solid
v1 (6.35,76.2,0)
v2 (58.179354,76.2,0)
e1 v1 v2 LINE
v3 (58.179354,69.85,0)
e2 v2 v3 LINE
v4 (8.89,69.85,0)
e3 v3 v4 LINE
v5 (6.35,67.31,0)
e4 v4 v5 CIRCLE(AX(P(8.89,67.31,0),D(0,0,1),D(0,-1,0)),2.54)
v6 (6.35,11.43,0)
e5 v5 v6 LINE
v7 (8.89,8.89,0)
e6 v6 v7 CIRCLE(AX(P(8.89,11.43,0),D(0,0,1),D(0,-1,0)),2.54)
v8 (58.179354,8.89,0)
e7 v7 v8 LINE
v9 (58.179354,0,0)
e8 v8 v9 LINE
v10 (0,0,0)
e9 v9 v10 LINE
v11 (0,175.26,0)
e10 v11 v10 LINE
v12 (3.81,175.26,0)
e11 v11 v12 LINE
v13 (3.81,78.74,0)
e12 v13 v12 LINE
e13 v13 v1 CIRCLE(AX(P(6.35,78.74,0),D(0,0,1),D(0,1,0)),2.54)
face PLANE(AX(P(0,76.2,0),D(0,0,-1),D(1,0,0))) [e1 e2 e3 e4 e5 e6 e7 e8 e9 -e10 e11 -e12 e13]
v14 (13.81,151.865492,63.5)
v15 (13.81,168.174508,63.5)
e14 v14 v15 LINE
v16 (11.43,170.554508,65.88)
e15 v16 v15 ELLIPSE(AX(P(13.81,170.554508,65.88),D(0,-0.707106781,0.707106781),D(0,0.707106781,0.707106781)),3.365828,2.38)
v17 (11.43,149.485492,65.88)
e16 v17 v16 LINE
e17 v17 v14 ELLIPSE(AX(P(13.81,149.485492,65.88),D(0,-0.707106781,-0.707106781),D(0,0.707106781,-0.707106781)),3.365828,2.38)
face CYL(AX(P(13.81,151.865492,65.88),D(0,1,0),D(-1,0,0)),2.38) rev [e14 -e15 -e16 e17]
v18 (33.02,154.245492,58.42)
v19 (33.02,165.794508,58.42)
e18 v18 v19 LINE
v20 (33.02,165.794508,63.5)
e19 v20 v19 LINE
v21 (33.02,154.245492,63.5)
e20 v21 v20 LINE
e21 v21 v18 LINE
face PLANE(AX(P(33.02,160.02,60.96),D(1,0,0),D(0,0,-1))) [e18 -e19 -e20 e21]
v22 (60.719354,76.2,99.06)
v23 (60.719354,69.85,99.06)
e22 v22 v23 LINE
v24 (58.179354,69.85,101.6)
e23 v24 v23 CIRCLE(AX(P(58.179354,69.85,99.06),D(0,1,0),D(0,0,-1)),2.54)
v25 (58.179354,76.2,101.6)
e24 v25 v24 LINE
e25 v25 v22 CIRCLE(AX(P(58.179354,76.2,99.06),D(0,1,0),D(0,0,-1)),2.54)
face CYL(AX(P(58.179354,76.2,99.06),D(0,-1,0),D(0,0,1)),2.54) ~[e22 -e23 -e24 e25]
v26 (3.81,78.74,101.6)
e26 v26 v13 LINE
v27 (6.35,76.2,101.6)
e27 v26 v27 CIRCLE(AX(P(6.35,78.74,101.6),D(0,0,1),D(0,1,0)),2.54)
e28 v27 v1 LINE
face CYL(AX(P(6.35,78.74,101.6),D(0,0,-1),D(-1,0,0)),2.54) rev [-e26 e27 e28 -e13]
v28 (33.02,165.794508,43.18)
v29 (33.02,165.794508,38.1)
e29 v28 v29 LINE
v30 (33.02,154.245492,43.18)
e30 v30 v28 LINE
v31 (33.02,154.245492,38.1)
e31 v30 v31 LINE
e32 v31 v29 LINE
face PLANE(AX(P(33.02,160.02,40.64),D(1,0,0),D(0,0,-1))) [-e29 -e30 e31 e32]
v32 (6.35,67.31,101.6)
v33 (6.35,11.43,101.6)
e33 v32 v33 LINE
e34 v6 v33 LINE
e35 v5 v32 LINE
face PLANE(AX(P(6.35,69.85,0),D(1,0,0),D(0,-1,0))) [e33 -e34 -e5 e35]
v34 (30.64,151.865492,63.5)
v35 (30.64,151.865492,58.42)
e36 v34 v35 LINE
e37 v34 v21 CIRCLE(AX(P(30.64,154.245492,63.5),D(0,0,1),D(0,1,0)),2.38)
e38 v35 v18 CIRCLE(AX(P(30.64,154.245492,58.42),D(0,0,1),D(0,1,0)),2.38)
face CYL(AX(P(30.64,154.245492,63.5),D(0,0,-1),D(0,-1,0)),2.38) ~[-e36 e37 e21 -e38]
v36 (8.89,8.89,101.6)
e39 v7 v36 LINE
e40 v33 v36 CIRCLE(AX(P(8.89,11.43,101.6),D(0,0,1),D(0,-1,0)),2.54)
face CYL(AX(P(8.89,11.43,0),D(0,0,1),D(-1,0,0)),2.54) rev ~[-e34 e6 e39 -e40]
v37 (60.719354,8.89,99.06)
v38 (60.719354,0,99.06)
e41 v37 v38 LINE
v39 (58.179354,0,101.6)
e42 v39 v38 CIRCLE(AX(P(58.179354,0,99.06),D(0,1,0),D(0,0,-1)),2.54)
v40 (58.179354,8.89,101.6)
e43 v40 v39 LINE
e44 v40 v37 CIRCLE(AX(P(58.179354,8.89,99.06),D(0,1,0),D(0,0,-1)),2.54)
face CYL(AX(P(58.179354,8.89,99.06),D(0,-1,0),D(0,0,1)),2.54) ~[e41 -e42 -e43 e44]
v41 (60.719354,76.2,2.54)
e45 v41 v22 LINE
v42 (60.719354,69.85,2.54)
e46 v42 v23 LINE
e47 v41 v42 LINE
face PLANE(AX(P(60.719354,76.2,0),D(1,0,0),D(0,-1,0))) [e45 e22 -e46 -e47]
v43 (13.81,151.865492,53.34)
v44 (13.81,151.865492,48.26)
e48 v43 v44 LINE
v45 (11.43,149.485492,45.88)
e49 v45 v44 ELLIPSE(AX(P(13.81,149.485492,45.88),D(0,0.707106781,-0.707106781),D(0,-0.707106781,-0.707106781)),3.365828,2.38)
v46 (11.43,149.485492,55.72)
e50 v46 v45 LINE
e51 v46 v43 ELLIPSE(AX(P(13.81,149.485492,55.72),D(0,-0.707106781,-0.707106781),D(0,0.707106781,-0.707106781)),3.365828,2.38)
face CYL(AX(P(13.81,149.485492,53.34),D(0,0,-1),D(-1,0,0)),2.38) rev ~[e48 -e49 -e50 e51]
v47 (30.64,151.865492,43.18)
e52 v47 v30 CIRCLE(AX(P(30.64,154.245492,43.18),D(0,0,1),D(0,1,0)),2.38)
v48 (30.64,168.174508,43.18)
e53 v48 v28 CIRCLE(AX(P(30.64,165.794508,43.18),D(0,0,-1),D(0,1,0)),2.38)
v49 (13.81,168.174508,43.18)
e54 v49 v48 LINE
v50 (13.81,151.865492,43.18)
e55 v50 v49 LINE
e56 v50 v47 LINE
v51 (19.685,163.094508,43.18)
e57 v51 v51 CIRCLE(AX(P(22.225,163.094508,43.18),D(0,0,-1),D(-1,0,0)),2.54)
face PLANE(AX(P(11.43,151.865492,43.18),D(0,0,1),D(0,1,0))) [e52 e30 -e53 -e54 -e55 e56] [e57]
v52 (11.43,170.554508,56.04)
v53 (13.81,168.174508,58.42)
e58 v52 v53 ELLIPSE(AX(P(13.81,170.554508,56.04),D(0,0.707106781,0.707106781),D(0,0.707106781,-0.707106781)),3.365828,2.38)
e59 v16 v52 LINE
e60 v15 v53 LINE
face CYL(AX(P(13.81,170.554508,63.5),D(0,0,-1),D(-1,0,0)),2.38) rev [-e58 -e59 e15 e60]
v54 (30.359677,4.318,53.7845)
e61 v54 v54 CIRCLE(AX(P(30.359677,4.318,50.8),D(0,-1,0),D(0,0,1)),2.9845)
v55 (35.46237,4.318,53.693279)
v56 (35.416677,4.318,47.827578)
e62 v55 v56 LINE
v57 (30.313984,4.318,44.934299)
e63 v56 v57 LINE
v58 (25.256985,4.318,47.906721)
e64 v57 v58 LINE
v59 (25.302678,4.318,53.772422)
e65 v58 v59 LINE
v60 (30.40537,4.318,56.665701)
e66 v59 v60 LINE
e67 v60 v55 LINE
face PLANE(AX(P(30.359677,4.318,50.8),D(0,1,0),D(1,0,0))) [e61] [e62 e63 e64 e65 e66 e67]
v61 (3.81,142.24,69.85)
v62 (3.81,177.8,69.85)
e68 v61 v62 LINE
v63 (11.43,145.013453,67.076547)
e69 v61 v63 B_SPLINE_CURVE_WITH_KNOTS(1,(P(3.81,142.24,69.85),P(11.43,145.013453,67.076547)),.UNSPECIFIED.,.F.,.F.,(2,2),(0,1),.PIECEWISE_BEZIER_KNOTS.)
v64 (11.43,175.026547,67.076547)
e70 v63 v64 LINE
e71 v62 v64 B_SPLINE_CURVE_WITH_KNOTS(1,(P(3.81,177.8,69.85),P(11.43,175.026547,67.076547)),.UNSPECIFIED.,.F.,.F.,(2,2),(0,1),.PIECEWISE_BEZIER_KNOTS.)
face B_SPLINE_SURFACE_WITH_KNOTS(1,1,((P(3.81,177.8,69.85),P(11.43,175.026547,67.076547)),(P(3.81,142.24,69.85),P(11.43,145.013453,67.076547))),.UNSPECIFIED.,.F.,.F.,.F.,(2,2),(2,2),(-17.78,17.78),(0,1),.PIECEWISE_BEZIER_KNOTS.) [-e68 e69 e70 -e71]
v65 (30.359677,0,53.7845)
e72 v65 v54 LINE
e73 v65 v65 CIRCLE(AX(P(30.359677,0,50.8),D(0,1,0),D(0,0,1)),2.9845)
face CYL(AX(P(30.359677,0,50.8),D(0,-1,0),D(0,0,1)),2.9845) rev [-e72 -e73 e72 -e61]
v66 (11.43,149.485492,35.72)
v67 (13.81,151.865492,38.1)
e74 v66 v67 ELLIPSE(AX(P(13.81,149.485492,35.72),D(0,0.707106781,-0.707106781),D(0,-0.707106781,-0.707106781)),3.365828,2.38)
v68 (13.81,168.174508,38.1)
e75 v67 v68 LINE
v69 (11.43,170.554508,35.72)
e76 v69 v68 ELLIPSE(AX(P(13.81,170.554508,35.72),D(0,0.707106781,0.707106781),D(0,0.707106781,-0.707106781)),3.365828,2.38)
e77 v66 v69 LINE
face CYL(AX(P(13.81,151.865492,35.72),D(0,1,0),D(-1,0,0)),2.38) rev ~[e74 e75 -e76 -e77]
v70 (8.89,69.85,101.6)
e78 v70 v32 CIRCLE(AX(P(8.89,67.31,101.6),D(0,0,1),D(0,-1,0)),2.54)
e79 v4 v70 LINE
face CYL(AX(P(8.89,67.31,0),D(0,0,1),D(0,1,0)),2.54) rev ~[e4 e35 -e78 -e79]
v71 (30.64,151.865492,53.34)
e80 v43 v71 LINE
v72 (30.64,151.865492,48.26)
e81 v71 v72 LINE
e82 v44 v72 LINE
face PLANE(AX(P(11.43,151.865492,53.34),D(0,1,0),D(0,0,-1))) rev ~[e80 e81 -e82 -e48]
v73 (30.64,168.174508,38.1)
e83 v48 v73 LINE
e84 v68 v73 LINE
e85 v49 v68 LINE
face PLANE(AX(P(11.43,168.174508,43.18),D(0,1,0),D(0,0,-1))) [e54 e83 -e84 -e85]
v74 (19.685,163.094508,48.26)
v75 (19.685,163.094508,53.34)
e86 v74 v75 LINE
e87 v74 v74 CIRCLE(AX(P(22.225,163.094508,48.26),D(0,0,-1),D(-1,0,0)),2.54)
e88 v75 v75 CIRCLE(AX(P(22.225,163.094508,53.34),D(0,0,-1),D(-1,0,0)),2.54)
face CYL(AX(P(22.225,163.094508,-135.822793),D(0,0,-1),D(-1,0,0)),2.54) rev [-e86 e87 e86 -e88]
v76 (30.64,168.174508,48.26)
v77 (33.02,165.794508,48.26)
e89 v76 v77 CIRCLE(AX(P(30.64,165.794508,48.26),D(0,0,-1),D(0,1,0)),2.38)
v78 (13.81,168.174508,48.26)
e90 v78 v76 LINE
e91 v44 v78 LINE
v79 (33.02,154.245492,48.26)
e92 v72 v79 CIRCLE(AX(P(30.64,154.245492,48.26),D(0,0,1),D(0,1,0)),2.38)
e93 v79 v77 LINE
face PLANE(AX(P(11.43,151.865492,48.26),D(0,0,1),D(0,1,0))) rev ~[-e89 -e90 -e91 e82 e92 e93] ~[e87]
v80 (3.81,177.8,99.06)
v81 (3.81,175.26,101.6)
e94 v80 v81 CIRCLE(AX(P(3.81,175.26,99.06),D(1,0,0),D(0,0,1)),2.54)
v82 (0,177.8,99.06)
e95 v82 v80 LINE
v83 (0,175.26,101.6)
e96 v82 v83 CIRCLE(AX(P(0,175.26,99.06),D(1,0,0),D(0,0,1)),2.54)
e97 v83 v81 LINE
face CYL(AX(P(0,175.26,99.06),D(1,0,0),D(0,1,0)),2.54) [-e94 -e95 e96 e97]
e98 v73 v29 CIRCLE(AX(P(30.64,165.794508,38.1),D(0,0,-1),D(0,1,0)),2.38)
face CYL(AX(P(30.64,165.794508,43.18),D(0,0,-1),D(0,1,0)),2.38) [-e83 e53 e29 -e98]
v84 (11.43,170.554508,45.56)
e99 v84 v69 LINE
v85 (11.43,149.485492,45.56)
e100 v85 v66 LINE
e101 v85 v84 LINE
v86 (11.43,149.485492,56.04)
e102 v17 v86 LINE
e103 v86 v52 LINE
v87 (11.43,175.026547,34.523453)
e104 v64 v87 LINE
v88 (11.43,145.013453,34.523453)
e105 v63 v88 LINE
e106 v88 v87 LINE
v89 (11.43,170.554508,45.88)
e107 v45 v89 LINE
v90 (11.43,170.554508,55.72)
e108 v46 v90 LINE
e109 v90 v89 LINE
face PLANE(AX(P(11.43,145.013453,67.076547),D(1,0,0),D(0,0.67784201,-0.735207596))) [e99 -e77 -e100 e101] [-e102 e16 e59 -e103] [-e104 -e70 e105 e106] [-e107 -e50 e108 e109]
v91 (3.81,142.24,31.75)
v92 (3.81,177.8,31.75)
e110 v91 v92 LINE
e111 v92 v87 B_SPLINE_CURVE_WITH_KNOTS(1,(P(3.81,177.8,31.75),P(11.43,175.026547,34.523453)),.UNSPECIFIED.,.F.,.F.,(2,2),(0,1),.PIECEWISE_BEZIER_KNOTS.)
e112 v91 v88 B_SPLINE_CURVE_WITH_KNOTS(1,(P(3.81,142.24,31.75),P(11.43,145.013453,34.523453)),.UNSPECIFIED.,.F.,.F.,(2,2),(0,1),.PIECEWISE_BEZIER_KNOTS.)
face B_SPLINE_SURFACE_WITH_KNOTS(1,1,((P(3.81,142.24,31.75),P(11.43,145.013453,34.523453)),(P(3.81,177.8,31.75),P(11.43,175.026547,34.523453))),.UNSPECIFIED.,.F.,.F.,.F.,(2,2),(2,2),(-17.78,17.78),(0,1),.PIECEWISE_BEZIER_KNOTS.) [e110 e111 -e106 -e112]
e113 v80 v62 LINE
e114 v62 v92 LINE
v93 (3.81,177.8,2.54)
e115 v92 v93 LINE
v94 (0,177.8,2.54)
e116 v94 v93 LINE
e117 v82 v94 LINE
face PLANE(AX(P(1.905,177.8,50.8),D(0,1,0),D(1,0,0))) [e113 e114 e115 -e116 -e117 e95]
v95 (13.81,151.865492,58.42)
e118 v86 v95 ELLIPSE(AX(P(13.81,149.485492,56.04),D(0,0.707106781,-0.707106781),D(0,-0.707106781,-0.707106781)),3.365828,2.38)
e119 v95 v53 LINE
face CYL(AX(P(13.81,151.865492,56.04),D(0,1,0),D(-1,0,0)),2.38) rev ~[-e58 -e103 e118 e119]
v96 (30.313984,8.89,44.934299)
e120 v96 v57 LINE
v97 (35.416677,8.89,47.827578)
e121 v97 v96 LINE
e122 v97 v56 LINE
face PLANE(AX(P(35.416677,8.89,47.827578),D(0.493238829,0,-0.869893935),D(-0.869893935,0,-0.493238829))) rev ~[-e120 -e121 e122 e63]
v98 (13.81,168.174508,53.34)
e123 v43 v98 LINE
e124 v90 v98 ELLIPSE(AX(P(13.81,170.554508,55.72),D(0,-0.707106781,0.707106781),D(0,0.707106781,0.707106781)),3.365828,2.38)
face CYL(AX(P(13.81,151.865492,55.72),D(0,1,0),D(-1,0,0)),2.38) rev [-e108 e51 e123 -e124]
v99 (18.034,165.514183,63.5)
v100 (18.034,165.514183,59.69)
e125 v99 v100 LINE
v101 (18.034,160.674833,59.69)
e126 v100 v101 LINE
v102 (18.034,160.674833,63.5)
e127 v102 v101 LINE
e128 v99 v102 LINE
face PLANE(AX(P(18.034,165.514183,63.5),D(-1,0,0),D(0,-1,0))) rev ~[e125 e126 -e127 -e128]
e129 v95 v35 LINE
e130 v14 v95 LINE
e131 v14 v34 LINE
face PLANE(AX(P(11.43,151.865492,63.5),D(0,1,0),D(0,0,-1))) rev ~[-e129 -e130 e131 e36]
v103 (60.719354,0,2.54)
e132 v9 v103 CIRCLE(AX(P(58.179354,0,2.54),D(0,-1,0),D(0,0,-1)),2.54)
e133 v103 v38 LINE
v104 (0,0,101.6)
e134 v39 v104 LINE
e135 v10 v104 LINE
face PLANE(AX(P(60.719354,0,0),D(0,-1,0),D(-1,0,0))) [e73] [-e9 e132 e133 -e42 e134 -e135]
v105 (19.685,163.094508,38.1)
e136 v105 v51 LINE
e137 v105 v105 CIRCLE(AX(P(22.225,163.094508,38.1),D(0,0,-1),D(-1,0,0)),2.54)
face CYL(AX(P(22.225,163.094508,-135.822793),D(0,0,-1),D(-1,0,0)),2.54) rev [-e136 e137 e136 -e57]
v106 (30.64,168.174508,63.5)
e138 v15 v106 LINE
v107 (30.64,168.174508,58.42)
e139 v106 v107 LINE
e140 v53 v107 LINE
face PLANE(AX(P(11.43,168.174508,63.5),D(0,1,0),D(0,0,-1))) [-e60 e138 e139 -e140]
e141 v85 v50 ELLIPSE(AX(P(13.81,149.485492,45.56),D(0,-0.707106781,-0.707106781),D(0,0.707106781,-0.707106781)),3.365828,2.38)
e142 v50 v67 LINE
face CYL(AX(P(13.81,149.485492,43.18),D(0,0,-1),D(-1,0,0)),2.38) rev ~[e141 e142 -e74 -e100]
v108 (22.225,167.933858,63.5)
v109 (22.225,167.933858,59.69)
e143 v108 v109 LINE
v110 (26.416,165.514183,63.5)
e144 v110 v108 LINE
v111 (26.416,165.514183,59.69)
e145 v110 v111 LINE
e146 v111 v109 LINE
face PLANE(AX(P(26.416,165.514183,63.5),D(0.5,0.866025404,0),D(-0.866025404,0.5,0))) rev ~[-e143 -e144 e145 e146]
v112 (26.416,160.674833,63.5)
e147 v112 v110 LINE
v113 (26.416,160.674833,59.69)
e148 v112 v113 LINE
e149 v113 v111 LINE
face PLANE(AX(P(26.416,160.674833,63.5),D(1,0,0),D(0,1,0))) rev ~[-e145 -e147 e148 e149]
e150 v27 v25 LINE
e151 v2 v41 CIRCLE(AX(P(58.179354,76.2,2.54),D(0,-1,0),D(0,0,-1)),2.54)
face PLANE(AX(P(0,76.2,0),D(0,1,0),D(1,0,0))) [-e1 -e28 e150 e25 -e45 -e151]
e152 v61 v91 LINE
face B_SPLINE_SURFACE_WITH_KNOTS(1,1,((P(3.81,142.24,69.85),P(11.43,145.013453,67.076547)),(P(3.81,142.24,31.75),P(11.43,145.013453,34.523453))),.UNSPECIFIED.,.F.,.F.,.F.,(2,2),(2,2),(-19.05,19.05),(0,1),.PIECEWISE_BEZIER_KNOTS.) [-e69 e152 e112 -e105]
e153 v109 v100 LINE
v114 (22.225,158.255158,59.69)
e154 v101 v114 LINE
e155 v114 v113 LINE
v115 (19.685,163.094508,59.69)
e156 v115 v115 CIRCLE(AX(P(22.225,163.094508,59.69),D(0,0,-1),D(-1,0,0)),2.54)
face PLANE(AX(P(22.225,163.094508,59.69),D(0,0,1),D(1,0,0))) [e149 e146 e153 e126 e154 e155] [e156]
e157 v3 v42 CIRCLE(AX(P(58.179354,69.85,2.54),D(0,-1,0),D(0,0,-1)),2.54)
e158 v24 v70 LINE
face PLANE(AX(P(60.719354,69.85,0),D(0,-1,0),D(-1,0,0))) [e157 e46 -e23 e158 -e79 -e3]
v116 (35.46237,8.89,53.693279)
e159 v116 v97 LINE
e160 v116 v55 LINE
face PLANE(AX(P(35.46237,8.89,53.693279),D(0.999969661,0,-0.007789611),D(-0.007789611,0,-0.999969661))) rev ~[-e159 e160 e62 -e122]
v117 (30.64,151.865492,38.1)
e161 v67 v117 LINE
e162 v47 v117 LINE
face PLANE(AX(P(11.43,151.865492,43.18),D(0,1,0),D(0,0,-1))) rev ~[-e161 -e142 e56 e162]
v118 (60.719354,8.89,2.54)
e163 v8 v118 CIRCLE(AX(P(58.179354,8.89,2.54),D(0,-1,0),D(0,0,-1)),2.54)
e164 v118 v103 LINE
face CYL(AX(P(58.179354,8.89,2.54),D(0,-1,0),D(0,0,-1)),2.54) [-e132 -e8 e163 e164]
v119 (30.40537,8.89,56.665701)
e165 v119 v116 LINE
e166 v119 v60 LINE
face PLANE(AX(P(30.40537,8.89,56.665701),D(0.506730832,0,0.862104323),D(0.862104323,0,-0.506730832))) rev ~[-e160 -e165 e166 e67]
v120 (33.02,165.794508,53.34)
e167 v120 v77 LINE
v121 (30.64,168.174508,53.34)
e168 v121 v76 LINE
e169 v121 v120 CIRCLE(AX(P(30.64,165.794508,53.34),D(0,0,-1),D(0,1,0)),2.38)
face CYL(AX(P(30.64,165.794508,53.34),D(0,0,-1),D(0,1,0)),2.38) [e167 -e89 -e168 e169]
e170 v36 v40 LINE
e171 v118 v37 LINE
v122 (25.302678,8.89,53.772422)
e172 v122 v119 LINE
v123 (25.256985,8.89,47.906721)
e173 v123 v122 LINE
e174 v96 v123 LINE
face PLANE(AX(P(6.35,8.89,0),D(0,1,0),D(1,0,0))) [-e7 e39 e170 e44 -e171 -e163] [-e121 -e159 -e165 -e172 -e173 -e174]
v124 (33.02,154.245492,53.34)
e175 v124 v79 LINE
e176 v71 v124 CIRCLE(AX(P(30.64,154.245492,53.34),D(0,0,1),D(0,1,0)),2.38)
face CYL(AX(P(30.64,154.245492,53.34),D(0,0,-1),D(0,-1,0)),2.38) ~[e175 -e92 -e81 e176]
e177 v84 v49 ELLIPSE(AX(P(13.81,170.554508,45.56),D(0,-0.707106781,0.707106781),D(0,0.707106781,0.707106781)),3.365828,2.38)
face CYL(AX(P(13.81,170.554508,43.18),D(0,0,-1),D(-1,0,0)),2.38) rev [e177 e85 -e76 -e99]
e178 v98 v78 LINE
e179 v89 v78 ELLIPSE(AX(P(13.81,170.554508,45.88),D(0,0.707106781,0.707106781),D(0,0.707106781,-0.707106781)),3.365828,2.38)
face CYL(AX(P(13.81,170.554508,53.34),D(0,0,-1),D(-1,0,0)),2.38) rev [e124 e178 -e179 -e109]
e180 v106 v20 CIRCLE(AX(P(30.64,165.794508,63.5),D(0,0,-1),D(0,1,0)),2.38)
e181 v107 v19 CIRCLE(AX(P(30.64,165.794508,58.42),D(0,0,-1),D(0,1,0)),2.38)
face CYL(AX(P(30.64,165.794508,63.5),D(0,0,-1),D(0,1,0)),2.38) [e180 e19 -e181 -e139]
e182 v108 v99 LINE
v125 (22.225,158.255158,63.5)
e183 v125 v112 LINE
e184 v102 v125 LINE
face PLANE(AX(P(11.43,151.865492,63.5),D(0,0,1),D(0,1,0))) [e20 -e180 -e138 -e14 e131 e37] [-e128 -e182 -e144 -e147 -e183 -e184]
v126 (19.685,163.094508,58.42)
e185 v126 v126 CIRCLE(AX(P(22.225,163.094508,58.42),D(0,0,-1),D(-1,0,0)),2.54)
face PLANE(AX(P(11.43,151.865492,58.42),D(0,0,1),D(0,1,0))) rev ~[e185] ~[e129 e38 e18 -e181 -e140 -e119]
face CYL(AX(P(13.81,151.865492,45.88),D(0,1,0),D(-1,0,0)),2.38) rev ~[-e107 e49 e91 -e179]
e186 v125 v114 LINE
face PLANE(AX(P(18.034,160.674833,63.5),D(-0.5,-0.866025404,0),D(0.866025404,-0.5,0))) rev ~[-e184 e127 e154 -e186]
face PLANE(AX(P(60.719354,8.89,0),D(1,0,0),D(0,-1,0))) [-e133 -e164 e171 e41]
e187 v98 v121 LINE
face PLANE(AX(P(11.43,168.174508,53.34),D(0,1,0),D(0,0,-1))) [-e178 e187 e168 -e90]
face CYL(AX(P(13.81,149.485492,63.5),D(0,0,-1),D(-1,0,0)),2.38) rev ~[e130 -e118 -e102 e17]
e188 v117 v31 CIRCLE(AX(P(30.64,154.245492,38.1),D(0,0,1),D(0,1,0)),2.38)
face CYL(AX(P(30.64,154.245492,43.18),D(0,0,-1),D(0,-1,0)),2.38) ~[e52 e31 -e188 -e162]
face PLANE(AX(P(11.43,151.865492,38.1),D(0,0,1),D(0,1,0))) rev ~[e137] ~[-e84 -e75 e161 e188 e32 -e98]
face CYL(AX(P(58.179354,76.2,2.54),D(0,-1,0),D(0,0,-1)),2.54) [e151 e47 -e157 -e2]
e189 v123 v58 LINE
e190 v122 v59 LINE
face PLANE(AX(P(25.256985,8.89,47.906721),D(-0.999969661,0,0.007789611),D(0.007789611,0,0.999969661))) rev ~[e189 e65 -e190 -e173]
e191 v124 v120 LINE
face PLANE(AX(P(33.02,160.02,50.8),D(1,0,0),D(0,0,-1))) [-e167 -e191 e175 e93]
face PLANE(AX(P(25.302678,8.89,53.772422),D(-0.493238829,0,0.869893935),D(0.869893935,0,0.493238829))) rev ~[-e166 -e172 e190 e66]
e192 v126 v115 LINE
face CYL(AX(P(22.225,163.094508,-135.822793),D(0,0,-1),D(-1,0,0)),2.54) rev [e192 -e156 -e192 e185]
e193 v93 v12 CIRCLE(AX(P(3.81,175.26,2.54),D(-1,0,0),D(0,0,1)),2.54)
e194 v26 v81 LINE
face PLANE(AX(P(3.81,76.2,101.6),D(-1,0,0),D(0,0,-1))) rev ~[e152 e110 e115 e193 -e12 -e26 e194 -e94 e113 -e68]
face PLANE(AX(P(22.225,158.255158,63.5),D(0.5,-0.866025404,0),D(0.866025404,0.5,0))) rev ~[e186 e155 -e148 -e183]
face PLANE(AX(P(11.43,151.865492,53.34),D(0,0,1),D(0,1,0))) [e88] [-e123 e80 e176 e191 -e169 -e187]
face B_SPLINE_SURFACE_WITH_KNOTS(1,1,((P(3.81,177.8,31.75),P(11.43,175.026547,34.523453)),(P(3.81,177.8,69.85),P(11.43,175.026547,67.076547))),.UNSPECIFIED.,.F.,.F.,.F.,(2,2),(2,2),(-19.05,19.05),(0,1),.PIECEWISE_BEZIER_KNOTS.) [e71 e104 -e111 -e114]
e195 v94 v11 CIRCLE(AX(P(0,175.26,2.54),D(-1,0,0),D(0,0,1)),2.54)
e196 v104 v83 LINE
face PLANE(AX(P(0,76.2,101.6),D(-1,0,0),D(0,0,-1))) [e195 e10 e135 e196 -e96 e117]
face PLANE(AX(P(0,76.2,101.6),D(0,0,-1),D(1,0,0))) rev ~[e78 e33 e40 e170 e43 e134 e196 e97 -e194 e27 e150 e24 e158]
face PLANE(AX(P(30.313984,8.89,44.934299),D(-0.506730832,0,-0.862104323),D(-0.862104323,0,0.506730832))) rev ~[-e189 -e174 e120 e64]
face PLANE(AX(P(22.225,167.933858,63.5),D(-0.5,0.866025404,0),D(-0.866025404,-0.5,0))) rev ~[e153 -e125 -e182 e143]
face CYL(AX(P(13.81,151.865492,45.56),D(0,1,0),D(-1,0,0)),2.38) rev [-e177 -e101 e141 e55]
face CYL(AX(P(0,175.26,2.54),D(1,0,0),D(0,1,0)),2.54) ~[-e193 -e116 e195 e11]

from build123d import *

# Parameters (mm, degrees)
BOSS_EXTRUDE1_DEPTH            = 101.6
CUT_EXTRUDE2_REACH             = 142.769
SKETCH2_R                      = 2.9845
CUT_EXTRUDE2_DIRECTION_2_DEPTH = 141.768746531
SKETCH8_W                      = 3.81
SKETCH8_H                      = 101.6
BOSS_EXTRUDE3_DEPTH            = 101.6
CUT_EXTRUDE5_DEPTH             = 4.572
SKETCH24_W                     = 38.1
SKETCH24_H                     = 35.56
BOSS_EXTRUDE8_DEPTH            = 7.62
BOSS_EXTRUDE8_TAPER            = 20
SKETCH29_W                     = 5.08
SKETCH29_H                     = 16.309015266
BOSS_EXTRUDE10_DEPTH           = 21.59
CUT_EXTRUDE8_DEPTH             = 199.322792527
CUT_EXTRUDE8_DEPTH_BACK        = 199.322792527
SKETCH30_R                     = 2.54
FILLET8_R                      = 2.38
CUT_EXTRUDE9_DEPTH             = 3.81
FILLET9_R                      = 2.54


with BuildPart() as part:
    # Sketch1 → Boss-Extrude1 (new body)
    with BuildSketch(Plane.XY):
        Polygon((0, 0), (0, 76.2), (60.71935441, 76.2), (60.71935441, 69.85), (6.35, 69.85), (6.35, 8.89), (60.71935441, 8.89), (60.71935441, 0), align=None)
    extrude(amount=BOSS_EXTRUDE1_DEPTH)

    # Sketch2 → Cut-Extrude2 (cut, up to next)
    with BuildSketch(Plane(origin=(0, 0, 0), x_dir=(1, 0, 0), z_dir=(0, 1, 0)), mode=Mode.PRIVATE) as cut_extrude2_sk1:
        with Locations(Location((30.359677205, -50.8, 0), (0, 0, 270))):
            Circle(SKETCH2_R)
    cut_extrude2_tool1 = extrude(cut_extrude2_sk1.sketch, amount=CUT_EXTRUDE2_REACH, mode=Mode.PRIVATE) & part.part
    add(cut_extrude2_tool1.solids().sort_by_distance((30.359677, 0, 50.8))[0], mode=Mode.SUBTRACT)

    # Sketch2 → Cut-Extrude2 direction 2 (cut)
    with BuildSketch(Plane(origin=(0, 0, 0), x_dir=(1, 0, 0), z_dir=(0, 1, 0))):
        with Locations(Location((30.359677205, -50.8, 0), (0, 0, 270))):
            Circle(SKETCH2_R)
    extrude(amount=-CUT_EXTRUDE2_DIRECTION_2_DEPTH, mode=Mode.SUBTRACT)

    # Sketch8 → Boss-Extrude3 (add)
    with BuildSketch(Plane(origin=(0, 76.2, 0), x_dir=(1, 0, 0), z_dir=(0, 1, 0))):
        with Locations((1.905, -50.8)):
            Rectangle(SKETCH8_W, SKETCH8_H)
    extrude(amount=BOSS_EXTRUDE3_DEPTH)

    # Sketch20 → Cut-Extrude5 (cut)
    with BuildSketch(Plane(origin=(0, 8.89, 0), x_dir=(1, 0, 0), z_dir=(0, 1, 0))):
        Polygon((35.462369538, -53.693279158), (35.416676623, -47.827578391), (30.31398429, -44.934299233), (25.256984872, -47.906720842), (25.302677788, -53.772421609), (30.405370121, -56.665700767), align=None)
    extrude(amount=-CUT_EXTRUDE5_DEPTH, mode=Mode.SUBTRACT)

    # Sketch24 → Boss-Extrude8 (add)
    with BuildSketch(Plane(origin=(3.81, 0, 0), x_dir=(0, 0, -1), z_dir=(1, 0, 0))):
        with Locations((-50.8, 160.02)):
            Rectangle(SKETCH24_W, SKETCH24_H)
    extrude(amount=BOSS_EXTRUDE8_DEPTH, taper=BOSS_EXTRUDE8_TAPER)

    # Sketch29 → Boss-Extrude10 (add)
    with BuildSketch(Plane(origin=(11.43, 0, 0), x_dir=(0, 0, -1), z_dir=(1, 0, 0))):
        with Locations((-60.96, 160.02)):
            Rectangle(SKETCH29_W, SKETCH29_H)
        with Locations((-50.8, 160.02)):
            Rectangle(SKETCH29_W, SKETCH29_H)
        with Locations((-40.64, 160.02)):
            Rectangle(SKETCH29_W, SKETCH29_H)
    extrude(amount=BOSS_EXTRUDE10_DEPTH)

    # Sketch30 → Cut-Extrude8 (cut, two sides: drawn at the far end of the back side and taken through both)
    with BuildSketch(Plane.XY.offset(63.5).offset(-CUT_EXTRUDE8_DEPTH_BACK)):
        with Locations(Location((22.225, 163.094507633, 0), (0, 0, 180))):
            Circle(SKETCH30_R)
    extrude(amount=CUT_EXTRUDE8_DEPTH + CUT_EXTRUDE8_DEPTH_BACK, mode=Mode.SUBTRACT)

    # Fillet8
    fillet8_edges = [part.edges().sort_by_distance(p)[0] for p in [
        (33.02, 168.174507633, 40.64),
        (11.43, 160.02, 43.18),
        (11.43, 151.865492367, 40.64),
        (33.02, 151.865492367, 40.64),
        (11.43, 168.174507633, 40.64),
        (11.43, 160.02, 38.1),
        (33.02, 168.174507633, 50.8),
        (11.43, 160.02, 53.34),
        (11.43, 151.865492367, 50.8),
        (33.02, 151.865492367, 50.8),
        (11.43, 168.174507633, 50.8),
        (11.43, 160.02, 48.26),
        (33.02, 168.174507633, 60.96),
        (11.43, 160.02, 63.5),
        (11.43, 151.865492367, 60.96),
        (33.02, 151.865492367, 60.96),
        (11.43, 168.174507633, 60.96),
        (11.43, 160.02, 58.42),
    ]]
    fillet(fillet8_edges, radius=FILLET8_R)

    # Sketch31 → Cut-Extrude9 (cut)
    with BuildSketch(Plane.XY.offset(63.5)):
        Polygon((26.416, 165.514182611), (22.225, 167.93385759), (18.034, 165.514182611), (18.034, 160.674832655), (22.225, 158.255157677), (26.416, 160.674832655), align=None)
    extrude(amount=-CUT_EXTRUDE9_DEPTH, mode=Mode.SUBTRACT)

    # Fillet9
    fillet9_edges = [part.edges().sort_by_distance(p)[0] for p in [
        (60.71935441, 4.445, 0),
        (6.35, 69.85, 50.8),
        (6.35, 8.89, 50.8),
        (60.71935441, 73.025, 101.6),
        (3.81, 76.2, 50.8),
        (1.905, 177.8, 101.6),
        (1.905, 177.8, 0),
        (60.71935441, 4.445, 101.6),
        (60.71935441, 73.025, 0),
    ]]
    fillet(fillet9_edges, radius=FILLET9_R)


solid = part.part
